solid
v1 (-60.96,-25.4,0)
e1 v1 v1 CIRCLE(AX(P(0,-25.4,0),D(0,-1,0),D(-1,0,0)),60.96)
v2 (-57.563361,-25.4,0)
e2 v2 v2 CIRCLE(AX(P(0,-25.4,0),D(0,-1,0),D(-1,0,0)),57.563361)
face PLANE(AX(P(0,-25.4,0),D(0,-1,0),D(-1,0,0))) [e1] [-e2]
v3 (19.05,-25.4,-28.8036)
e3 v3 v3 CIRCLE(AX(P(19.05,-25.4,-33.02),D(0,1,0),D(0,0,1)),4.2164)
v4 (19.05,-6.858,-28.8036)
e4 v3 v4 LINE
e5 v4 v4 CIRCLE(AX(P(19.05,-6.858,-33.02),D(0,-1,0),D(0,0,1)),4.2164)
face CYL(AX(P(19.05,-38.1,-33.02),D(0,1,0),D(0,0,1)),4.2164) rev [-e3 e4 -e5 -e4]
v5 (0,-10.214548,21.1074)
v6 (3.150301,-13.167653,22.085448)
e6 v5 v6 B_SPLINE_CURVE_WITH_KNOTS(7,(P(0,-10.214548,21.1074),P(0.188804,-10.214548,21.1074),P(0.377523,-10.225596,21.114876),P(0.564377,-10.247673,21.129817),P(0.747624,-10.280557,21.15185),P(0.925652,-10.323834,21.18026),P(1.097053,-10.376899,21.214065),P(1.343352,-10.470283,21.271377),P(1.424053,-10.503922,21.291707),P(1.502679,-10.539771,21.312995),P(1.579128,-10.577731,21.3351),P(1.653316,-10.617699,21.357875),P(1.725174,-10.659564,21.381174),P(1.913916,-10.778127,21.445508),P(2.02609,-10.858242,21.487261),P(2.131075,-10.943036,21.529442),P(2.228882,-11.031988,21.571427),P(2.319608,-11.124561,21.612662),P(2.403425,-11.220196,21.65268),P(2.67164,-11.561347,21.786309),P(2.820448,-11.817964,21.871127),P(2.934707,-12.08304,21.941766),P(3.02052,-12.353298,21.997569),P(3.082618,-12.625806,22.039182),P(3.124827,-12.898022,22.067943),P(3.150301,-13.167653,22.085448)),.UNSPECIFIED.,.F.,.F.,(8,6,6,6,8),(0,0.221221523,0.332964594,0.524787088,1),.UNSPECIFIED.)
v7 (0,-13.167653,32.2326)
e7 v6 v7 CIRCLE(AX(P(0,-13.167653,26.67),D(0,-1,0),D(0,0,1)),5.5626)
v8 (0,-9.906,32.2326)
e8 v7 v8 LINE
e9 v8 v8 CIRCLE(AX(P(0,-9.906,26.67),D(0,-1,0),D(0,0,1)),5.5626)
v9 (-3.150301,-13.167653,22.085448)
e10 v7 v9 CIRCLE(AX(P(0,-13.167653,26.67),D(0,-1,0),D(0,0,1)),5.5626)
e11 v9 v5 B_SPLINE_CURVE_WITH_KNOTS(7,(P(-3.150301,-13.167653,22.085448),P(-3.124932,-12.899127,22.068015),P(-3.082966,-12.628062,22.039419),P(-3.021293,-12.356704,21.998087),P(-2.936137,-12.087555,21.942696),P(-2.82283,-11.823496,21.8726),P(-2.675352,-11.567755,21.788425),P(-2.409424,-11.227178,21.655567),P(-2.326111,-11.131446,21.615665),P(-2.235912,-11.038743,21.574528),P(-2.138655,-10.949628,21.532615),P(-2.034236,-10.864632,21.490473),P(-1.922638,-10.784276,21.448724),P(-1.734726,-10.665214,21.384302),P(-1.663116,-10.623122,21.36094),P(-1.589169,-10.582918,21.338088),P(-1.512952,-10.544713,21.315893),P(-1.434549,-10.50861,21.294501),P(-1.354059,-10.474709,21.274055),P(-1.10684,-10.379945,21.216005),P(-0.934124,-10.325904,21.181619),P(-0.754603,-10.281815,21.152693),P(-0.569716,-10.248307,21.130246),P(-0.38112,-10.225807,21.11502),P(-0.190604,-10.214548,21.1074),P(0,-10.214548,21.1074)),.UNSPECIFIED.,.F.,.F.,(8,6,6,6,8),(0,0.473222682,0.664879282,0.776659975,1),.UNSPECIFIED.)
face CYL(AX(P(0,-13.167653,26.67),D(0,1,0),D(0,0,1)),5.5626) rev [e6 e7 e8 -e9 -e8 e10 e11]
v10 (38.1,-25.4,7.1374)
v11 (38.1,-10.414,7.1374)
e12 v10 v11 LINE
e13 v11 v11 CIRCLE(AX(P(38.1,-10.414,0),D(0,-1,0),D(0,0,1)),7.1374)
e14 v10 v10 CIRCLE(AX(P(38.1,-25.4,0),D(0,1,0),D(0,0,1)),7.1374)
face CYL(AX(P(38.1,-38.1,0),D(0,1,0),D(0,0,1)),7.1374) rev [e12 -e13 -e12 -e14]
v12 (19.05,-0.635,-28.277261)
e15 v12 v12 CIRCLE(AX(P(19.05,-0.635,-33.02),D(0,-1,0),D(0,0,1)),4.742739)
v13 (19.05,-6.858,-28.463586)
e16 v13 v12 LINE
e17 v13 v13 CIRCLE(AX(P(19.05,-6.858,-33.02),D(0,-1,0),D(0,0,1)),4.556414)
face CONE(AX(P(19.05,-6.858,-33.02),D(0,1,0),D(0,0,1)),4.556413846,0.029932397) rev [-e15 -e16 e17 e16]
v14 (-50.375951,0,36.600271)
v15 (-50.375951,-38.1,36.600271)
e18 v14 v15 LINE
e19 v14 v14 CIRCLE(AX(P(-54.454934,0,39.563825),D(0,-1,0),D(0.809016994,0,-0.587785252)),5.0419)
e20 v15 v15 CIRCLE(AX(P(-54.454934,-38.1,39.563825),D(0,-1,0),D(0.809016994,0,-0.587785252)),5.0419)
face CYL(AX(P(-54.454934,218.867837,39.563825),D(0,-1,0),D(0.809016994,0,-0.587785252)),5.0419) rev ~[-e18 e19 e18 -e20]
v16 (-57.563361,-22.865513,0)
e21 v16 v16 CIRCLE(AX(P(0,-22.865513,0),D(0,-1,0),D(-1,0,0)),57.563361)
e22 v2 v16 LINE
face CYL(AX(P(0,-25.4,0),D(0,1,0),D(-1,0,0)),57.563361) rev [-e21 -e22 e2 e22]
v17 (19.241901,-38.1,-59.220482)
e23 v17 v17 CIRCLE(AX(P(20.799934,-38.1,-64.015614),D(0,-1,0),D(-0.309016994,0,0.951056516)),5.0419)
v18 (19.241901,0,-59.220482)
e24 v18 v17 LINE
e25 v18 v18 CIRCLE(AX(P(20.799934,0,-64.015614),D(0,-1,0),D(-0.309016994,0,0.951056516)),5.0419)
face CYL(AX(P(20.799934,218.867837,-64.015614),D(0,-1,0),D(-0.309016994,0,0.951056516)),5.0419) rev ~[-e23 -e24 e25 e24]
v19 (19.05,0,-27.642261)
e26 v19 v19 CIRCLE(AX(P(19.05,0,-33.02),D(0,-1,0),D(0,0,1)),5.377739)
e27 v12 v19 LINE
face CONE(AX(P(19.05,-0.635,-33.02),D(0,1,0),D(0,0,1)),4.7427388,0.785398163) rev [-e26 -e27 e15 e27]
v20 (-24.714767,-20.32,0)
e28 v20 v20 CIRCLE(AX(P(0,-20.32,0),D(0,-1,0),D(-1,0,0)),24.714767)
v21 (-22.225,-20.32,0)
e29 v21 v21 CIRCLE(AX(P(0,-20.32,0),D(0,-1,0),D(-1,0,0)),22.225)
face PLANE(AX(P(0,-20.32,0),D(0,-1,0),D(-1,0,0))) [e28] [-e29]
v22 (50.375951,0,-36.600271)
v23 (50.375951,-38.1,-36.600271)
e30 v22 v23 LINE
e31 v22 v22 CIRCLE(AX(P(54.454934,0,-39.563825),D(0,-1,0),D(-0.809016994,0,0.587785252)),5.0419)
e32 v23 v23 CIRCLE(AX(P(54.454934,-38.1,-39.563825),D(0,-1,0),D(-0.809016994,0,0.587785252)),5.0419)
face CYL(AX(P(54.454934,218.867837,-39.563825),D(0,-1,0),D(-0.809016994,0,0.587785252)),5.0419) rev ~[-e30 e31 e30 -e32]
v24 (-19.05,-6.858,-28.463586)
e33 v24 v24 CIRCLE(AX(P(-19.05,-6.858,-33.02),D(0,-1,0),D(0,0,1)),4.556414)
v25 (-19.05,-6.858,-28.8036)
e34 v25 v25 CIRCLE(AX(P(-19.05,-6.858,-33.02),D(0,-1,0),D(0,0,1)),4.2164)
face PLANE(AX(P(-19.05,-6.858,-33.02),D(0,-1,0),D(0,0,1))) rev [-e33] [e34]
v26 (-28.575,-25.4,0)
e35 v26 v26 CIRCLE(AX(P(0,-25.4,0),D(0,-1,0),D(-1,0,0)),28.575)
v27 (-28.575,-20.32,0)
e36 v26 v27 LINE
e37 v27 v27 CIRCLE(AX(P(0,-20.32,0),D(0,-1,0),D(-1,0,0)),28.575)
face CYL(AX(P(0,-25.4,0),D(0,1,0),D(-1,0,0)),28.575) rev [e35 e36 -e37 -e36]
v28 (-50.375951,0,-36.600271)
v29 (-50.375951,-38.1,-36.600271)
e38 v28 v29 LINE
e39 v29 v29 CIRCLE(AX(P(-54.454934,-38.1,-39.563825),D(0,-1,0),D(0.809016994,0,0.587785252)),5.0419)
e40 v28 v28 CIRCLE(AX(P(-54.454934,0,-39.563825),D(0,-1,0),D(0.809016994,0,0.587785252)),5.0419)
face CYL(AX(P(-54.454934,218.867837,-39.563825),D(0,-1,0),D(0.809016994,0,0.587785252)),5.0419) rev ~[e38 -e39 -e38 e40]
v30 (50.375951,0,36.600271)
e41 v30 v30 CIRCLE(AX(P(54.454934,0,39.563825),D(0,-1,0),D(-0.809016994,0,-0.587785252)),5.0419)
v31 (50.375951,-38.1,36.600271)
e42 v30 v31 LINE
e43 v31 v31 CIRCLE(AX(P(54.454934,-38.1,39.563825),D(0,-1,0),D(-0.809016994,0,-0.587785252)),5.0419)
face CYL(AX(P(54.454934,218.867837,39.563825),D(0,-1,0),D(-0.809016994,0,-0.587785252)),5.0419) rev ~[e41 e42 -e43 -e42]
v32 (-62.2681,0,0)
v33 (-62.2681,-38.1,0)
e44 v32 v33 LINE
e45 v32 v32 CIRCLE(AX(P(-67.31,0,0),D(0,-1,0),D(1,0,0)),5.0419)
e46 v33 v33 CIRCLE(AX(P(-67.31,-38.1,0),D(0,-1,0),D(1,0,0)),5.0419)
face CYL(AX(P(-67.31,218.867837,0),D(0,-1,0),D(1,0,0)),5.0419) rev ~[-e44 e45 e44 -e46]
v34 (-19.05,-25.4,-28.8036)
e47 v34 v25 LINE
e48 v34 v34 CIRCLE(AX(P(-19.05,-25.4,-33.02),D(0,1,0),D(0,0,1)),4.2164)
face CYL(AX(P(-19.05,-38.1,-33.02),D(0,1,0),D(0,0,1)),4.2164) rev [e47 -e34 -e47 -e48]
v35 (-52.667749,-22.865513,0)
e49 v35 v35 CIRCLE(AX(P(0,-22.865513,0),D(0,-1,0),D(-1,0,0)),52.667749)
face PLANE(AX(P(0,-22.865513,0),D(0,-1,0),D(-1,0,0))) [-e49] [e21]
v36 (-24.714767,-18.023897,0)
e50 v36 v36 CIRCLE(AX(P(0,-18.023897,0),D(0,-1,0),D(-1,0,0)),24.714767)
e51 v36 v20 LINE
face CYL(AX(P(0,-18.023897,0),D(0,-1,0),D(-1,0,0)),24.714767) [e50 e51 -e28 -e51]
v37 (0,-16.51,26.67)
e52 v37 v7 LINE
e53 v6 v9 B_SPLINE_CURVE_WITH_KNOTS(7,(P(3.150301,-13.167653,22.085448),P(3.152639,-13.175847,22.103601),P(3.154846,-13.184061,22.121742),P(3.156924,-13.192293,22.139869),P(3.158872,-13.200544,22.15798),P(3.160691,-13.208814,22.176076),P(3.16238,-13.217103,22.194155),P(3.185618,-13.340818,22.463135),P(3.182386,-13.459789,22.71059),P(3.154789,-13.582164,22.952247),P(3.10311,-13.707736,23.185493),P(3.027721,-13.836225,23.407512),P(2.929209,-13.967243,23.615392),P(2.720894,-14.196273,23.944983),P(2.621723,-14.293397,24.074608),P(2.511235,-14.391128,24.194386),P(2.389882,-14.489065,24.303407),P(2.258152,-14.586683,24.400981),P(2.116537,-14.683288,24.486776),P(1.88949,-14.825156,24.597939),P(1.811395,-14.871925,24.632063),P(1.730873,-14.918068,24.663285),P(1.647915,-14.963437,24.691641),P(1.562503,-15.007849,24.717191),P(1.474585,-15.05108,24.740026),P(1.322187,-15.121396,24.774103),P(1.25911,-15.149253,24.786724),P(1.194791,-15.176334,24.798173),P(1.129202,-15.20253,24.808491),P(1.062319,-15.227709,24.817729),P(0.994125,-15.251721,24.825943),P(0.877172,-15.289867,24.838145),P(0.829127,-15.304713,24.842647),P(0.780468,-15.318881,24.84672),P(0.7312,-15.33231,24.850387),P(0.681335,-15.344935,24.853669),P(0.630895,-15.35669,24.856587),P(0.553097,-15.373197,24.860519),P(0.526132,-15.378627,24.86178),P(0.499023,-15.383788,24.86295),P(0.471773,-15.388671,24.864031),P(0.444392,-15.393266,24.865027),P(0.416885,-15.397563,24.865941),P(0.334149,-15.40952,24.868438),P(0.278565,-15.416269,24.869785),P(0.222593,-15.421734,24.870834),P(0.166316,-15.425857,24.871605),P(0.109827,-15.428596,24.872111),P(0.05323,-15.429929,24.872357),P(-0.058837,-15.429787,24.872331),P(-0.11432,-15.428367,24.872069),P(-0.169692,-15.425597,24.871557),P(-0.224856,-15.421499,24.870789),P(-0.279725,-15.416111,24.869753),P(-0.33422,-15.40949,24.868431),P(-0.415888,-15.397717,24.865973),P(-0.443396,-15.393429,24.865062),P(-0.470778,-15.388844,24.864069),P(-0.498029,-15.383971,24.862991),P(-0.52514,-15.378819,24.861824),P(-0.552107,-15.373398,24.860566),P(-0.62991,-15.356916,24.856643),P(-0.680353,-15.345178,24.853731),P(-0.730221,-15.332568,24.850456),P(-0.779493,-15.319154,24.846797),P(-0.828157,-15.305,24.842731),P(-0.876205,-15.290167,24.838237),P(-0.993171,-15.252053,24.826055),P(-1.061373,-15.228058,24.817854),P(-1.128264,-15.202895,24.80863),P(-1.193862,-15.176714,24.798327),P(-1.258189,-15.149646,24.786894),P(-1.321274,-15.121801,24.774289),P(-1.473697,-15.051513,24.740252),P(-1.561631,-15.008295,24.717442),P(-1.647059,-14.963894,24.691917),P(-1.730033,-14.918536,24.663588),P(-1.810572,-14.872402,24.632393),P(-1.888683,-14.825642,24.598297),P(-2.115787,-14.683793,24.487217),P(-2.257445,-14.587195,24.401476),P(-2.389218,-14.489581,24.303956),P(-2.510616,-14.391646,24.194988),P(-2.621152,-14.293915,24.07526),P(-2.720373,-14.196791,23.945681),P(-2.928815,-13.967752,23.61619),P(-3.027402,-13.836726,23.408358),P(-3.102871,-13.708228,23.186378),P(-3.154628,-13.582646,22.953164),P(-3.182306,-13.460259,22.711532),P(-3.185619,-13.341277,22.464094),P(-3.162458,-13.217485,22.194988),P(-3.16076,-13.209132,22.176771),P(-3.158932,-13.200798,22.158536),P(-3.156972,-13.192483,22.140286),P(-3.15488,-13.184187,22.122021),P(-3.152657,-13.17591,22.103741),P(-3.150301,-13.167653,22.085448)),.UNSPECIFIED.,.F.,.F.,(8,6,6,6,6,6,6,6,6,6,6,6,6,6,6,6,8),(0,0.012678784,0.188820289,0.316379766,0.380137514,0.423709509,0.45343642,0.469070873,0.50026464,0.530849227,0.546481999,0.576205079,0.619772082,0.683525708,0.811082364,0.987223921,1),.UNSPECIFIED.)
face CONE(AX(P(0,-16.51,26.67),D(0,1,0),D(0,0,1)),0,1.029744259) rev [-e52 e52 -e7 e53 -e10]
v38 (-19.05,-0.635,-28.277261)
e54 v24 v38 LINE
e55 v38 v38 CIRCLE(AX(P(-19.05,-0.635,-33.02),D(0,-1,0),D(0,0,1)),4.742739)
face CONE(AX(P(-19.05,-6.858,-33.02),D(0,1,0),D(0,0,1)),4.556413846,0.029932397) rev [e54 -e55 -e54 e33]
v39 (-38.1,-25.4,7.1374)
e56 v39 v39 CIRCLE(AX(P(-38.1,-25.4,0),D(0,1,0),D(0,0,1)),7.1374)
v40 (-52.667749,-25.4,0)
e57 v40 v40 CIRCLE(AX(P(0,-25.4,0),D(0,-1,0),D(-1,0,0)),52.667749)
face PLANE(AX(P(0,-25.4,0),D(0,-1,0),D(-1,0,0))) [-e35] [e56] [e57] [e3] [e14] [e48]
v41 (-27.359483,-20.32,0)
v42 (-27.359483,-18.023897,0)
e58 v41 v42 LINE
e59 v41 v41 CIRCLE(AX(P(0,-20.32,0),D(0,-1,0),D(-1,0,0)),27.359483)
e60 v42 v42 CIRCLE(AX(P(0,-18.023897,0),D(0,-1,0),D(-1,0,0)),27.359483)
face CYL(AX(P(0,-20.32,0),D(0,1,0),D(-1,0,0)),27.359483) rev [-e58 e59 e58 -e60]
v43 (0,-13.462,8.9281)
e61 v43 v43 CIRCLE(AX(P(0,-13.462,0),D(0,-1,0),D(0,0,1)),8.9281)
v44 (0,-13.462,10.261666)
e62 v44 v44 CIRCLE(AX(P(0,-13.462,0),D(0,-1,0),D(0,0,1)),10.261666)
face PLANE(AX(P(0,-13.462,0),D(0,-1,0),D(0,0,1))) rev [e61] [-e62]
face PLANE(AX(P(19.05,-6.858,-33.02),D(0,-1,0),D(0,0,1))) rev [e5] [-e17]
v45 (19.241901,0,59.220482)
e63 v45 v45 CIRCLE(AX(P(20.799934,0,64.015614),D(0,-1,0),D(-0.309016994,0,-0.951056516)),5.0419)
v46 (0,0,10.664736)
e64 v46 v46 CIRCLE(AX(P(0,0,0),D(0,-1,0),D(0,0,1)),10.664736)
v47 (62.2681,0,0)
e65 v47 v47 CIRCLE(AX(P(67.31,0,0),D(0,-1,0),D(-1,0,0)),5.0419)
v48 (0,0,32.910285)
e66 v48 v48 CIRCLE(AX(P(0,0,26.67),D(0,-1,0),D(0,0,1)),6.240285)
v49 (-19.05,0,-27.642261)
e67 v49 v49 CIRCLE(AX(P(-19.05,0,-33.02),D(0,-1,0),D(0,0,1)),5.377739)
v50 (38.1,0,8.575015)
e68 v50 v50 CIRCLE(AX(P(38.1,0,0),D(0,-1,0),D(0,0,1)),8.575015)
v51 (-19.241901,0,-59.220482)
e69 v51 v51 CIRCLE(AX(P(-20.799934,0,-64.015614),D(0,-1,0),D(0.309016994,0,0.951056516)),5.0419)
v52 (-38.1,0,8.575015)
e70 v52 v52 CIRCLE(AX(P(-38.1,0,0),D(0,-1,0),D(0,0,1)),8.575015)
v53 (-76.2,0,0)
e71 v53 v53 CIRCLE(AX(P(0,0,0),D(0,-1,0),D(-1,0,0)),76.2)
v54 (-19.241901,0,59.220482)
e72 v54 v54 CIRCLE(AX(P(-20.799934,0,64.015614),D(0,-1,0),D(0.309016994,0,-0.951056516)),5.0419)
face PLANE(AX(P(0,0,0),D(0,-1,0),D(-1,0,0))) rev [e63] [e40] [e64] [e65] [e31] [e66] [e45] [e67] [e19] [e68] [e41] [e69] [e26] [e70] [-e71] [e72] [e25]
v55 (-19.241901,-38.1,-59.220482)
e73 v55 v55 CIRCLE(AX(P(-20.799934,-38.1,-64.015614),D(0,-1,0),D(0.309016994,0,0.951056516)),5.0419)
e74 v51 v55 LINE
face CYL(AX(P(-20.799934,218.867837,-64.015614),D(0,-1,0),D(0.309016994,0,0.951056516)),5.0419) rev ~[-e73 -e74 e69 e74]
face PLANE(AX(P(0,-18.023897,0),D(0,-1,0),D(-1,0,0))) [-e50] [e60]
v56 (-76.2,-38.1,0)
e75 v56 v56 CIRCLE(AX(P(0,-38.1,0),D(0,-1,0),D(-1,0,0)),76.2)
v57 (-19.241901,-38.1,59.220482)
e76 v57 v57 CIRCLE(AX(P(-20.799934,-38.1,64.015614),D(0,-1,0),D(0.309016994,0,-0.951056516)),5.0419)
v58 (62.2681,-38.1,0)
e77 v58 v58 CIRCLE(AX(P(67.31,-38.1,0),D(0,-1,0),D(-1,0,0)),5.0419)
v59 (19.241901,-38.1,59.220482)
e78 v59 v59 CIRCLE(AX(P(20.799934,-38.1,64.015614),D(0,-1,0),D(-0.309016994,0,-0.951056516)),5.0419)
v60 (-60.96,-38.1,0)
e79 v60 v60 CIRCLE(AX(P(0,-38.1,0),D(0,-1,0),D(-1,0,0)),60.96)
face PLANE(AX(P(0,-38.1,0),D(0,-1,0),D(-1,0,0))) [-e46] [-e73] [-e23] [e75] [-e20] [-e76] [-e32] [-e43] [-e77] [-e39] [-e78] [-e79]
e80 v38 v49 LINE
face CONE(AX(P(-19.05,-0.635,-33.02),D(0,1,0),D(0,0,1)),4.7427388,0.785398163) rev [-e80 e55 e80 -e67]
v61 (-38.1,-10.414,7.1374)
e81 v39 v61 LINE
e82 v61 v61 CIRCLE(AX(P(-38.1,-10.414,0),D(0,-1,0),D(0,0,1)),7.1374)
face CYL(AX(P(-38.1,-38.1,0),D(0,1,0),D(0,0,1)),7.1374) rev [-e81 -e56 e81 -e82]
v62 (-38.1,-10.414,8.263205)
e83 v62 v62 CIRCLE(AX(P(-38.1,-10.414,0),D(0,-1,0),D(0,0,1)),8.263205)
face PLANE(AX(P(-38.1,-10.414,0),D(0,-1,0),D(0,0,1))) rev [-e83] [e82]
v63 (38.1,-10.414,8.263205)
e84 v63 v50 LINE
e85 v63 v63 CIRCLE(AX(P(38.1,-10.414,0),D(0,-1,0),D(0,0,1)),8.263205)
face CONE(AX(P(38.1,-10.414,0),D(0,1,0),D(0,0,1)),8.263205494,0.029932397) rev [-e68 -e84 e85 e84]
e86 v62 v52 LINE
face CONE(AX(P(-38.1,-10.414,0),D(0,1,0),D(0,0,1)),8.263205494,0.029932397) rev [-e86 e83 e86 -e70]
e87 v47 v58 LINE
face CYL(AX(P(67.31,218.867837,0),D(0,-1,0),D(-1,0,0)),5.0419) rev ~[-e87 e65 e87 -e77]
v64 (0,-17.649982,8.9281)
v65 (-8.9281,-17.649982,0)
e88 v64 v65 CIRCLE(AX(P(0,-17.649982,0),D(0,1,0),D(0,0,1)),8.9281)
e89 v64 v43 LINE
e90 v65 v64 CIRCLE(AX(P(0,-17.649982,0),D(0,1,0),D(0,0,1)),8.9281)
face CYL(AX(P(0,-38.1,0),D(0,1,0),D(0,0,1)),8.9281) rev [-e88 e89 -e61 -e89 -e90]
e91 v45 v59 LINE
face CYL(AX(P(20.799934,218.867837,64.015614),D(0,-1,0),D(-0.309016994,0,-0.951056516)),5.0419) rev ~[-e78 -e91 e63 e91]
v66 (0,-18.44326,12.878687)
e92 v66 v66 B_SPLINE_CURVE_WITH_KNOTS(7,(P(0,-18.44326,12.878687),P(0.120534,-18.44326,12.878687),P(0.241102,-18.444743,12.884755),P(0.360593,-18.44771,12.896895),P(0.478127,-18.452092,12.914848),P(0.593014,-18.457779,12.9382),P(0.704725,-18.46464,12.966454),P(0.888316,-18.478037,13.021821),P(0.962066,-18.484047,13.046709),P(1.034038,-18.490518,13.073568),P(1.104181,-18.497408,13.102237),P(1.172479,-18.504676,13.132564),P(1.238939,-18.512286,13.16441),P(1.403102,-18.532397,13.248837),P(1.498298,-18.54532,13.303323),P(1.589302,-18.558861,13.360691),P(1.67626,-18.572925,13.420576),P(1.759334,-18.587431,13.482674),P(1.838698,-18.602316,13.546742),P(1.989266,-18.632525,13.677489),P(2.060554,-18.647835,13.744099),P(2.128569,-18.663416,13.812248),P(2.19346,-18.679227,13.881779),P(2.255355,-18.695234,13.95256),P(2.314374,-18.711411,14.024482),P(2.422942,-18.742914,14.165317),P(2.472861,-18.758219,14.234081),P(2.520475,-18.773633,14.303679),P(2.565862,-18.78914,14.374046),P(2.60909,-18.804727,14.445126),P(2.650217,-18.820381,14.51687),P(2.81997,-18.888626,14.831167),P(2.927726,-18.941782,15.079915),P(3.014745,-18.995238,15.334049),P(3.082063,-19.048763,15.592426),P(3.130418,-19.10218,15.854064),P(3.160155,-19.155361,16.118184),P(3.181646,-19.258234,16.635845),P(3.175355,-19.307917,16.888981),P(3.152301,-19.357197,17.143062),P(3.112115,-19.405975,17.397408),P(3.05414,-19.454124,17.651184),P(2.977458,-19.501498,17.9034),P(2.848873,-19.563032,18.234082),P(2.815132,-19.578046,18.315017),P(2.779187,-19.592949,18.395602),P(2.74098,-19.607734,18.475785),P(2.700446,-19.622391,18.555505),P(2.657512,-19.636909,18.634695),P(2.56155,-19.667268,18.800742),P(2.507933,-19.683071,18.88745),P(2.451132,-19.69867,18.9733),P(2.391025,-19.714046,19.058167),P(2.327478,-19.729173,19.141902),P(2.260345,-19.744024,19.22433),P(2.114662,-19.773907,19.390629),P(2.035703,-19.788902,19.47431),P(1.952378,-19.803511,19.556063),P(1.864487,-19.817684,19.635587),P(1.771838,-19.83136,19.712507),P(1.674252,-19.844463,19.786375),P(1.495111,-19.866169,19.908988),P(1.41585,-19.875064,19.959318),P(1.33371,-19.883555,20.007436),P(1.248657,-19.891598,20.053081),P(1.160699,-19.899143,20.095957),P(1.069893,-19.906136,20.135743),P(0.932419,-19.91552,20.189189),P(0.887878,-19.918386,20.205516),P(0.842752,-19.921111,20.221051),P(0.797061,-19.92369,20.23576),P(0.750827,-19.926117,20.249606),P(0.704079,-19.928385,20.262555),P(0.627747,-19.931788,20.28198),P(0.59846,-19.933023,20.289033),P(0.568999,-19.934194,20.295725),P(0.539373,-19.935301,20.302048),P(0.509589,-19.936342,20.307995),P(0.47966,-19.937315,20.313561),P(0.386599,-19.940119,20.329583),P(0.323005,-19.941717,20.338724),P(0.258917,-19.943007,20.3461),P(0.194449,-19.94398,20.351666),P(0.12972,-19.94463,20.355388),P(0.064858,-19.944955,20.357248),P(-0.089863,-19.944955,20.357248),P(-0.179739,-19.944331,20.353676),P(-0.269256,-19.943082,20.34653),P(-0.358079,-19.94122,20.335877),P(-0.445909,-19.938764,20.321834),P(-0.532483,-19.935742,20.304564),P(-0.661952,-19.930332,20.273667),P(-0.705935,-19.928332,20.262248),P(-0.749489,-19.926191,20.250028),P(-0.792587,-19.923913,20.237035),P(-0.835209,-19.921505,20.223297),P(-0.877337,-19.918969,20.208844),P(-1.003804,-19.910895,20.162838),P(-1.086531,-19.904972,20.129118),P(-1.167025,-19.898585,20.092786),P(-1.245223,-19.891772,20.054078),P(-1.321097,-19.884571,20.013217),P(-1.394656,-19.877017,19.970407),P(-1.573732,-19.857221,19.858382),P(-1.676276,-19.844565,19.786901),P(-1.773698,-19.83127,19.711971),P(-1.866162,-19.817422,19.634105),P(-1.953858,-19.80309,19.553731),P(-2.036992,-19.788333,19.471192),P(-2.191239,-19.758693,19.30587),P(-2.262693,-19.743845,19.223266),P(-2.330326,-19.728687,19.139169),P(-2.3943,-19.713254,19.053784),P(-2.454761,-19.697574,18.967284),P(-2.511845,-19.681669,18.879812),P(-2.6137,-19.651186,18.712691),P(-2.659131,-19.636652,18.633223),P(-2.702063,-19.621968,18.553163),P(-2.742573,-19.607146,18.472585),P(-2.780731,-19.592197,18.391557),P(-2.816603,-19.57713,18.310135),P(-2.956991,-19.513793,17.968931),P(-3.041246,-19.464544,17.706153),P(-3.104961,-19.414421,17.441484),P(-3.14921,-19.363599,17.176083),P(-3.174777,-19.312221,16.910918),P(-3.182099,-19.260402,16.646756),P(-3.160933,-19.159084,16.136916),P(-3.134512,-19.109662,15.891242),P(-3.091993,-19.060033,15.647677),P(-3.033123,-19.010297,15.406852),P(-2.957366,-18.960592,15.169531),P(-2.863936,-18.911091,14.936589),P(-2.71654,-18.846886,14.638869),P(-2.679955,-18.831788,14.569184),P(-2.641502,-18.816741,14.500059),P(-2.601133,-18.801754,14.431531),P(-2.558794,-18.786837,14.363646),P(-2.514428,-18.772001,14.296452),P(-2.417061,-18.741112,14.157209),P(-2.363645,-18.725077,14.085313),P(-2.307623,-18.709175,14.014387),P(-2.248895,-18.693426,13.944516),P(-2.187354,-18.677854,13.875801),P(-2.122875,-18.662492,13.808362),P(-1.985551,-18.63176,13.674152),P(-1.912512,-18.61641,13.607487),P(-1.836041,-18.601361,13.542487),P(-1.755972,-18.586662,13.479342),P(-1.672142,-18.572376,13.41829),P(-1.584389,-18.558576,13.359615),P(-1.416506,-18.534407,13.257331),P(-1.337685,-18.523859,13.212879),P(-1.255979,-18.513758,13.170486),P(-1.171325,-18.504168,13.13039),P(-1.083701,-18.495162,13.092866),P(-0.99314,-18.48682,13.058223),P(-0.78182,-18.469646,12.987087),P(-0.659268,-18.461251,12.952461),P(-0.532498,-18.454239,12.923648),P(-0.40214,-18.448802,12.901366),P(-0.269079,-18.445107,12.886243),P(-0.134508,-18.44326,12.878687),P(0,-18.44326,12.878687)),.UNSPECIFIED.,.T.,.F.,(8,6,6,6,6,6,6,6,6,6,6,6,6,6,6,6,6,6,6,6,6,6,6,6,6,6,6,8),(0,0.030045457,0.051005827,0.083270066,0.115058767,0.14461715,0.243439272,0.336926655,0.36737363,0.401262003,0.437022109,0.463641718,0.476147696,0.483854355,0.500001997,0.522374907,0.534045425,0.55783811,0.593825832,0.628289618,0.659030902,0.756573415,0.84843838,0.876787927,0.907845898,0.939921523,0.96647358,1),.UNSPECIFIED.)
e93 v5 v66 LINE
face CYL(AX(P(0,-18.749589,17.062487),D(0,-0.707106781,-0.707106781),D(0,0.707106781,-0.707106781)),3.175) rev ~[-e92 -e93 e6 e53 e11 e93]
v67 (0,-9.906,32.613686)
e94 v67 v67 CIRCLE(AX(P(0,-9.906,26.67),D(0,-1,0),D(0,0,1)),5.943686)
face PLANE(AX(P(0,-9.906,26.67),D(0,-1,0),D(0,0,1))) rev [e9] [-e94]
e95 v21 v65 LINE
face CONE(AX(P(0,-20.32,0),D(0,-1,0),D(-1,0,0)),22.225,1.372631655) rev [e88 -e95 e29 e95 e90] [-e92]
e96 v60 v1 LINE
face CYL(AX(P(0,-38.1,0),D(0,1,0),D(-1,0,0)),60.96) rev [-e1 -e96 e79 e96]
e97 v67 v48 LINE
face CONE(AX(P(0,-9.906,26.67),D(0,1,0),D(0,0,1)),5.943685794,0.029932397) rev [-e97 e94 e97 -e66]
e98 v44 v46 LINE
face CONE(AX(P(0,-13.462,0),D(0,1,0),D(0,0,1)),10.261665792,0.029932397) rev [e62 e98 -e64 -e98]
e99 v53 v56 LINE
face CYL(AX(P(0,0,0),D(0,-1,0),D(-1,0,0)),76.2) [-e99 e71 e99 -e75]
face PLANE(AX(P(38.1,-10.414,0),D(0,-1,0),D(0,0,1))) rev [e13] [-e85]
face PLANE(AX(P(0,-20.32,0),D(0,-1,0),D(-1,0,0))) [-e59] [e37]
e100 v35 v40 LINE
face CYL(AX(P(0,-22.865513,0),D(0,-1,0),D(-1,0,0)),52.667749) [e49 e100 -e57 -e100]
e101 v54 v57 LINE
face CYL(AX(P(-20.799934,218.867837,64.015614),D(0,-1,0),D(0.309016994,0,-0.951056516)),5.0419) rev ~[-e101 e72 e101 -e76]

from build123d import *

# Parameters (mm, degrees)
F_3_8_NPT_TAPPED_HOLE1_AT_2_COUNT = 2
F_3_8_NPT_TAPPED_HOLE1_AT_2_PITCH = 76.2
F_3_8_CLEARANCE_HOLE2_D           = 10.0838
CIRPATTERN1_COUNT                 = 10
F_1_8_NPT_TAPPED_HOLE2_AT_2_COUNT = 2
F_1_8_NPT_TAPPED_HOLE2_AT_2_PITCH = 38.1
SKETCH15_R                        = 3.175
CUT_EXTRUDE1_DEPTH                = 12.7


with BuildPart() as part:
    # Sketch1 → Revolve1 (revolve)
    with BuildSketch(Plane.XY):
        Polygon((0, 0), (-76.2, 0), (-76.2, -38.1), (-60.96, -38.1), (-60.96, -25.4), (-57.563361296, -25.4), (-57.563361296, -22.865513246), (-52.667748855, -22.865513246), (-52.667748855, -25.4), (-32.163982831, -25.4), (-30.364664072, -25.4), (-28.575, -25.4), (-28.575, -20.32), (-27.359482971, -20.32), (-27.359482971, -18.0238967), (-24.714766805, -18.0238967), (-24.714766805, -20.32), (-22.225, -20.32), (0, -15.85722), align=None)
    revolve(axis=Axis((0, 0, 0), (0, -1, 0)))

    # Sketch3 → 1/2 NPT Tapped Hole1 (revolve, cut)
    with BuildSketch(Plane(origin=(0, 0, 0), x_dir=(0, 0, 1), z_dir=(1, 0, 0))):
        Polygon((0, 0), (0, 38.1), (8.9281, 38.1), (8.9281, 13.462), (10.261665792, 13.462), (10.6647361, 0), align=None)
    revolve(axis=Axis((0, 6.35, 0), (0, -1, 0)), mode=Mode.SUBTRACT)

    # Sketch5 → 3/8 NPT Tapped Hole1 (revolve, cut)
    with BuildSketch(Plane(origin=(-38.1, 0, 0), x_dir=(0, 0, 1), z_dir=(1, 0, 0))):
        Polygon((0, 0), (0, 38.1), (7.1374, 38.1), (7.1374, 10.414), (8.263205494, 10.414), (8.5750146, 0), align=None)
    f_3_8_npt_tapped_hole1 = revolve(axis=Axis((-38.1, 6.35, 0), (0, -1, 0)), mode=Mode.SUBTRACT)

    # 3/8 NPT Tapped Hole1 at 2: 3/8 NPT Tapped Hole1 ×2
    with Locations(*[(i * F_3_8_NPT_TAPPED_HOLE1_AT_2_PITCH, 0, 0) for i in range(1, F_3_8_NPT_TAPPED_HOLE1_AT_2_COUNT)]):
        add(f_3_8_npt_tapped_hole1, mode=Mode.SUBTRACT)

    # 3/8 Clearance Hole2 (through all)
    with Locations(Plane(origin=(67.31, 0, 0), x_dir=(1, 0, 0), z_dir=(0, 1, 0))):
        with Locations((0, 0)):
            f_3_8_clearance_hole2 = Hole(F_3_8_CLEARANCE_HOLE2_D / 2)

    # CirPattern1: 3/8 Clearance Hole2 ×10 about axis
    cirpattern1_axis = Axis((0, 0, 0), (0, 1, 0))
    for i in range(1, CIRPATTERN1_COUNT):
        add(f_3_8_clearance_hole2.rotate(cirpattern1_axis, i * 360 / CIRPATTERN1_COUNT), mode=Mode.SUBTRACT)

    # Sketch7 → 1/8 NPT Tapped Hole2 (revolve, cut)
    with BuildSketch(Plane(origin=(-19.05, 0, -33.02), x_dir=(0, 0, 1), z_dir=(1, 0, 0))):
        Polygon((0, 0), (0, 38.1), (4.2164, 38.1), (4.2164, 6.858), (4.556413846, 6.858), (4.7427388, 0.635), (5.3777388, 0), align=None)
    f_1_8_npt_tapped_hole2 = revolve(axis=Axis((-19.05, 6.35, -33.02), (0, -1, 0)), mode=Mode.SUBTRACT)

    # 1/8 NPT Tapped Hole2 at 2: 1/8 NPT Tapped Hole2 ×2
    with Locations(*[(i * F_1_8_NPT_TAPPED_HOLE2_AT_2_PITCH, 0, 0) for i in range(1, F_1_8_NPT_TAPPED_HOLE2_AT_2_COUNT)]):
        add(f_1_8_npt_tapped_hole2, mode=Mode.SUBTRACT)

    # Sketch15 → Cut-Extrude1 (cut, symmetric)
    with BuildSketch(Plane(origin=(0, -0.843551224, -0.843551224), x_dir=(0, 0.707106781186549, -0.7071067811865461), z_dir=(0, -0.7071067811865461, -0.707106781186549))):
        with Locations((-25.322961582, 0)):
            Circle(SKETCH15_R)
    extrude(amount=CUT_EXTRUDE1_DEPTH, both=True, mode=Mode.SUBTRACT)

    # Sketch12 → 1/4 NPT Tapped Hole1 (revolve, cut)
    with BuildSketch(Plane(origin=(0, 0, 26.67), x_dir=(0, 0, 1), z_dir=(1, 0, 0))):
        Polygon((0, 0), (0, 16.51), (5.5626, 13.167652721), (5.5626, 9.906), (5.943685794, 9.906), (6.2402847, 0), align=None)
    revolve(axis=Axis((0, 6.35, 26.67), (0, -1, 0)), mode=Mode.SUBTRACT)


solid = part.part
